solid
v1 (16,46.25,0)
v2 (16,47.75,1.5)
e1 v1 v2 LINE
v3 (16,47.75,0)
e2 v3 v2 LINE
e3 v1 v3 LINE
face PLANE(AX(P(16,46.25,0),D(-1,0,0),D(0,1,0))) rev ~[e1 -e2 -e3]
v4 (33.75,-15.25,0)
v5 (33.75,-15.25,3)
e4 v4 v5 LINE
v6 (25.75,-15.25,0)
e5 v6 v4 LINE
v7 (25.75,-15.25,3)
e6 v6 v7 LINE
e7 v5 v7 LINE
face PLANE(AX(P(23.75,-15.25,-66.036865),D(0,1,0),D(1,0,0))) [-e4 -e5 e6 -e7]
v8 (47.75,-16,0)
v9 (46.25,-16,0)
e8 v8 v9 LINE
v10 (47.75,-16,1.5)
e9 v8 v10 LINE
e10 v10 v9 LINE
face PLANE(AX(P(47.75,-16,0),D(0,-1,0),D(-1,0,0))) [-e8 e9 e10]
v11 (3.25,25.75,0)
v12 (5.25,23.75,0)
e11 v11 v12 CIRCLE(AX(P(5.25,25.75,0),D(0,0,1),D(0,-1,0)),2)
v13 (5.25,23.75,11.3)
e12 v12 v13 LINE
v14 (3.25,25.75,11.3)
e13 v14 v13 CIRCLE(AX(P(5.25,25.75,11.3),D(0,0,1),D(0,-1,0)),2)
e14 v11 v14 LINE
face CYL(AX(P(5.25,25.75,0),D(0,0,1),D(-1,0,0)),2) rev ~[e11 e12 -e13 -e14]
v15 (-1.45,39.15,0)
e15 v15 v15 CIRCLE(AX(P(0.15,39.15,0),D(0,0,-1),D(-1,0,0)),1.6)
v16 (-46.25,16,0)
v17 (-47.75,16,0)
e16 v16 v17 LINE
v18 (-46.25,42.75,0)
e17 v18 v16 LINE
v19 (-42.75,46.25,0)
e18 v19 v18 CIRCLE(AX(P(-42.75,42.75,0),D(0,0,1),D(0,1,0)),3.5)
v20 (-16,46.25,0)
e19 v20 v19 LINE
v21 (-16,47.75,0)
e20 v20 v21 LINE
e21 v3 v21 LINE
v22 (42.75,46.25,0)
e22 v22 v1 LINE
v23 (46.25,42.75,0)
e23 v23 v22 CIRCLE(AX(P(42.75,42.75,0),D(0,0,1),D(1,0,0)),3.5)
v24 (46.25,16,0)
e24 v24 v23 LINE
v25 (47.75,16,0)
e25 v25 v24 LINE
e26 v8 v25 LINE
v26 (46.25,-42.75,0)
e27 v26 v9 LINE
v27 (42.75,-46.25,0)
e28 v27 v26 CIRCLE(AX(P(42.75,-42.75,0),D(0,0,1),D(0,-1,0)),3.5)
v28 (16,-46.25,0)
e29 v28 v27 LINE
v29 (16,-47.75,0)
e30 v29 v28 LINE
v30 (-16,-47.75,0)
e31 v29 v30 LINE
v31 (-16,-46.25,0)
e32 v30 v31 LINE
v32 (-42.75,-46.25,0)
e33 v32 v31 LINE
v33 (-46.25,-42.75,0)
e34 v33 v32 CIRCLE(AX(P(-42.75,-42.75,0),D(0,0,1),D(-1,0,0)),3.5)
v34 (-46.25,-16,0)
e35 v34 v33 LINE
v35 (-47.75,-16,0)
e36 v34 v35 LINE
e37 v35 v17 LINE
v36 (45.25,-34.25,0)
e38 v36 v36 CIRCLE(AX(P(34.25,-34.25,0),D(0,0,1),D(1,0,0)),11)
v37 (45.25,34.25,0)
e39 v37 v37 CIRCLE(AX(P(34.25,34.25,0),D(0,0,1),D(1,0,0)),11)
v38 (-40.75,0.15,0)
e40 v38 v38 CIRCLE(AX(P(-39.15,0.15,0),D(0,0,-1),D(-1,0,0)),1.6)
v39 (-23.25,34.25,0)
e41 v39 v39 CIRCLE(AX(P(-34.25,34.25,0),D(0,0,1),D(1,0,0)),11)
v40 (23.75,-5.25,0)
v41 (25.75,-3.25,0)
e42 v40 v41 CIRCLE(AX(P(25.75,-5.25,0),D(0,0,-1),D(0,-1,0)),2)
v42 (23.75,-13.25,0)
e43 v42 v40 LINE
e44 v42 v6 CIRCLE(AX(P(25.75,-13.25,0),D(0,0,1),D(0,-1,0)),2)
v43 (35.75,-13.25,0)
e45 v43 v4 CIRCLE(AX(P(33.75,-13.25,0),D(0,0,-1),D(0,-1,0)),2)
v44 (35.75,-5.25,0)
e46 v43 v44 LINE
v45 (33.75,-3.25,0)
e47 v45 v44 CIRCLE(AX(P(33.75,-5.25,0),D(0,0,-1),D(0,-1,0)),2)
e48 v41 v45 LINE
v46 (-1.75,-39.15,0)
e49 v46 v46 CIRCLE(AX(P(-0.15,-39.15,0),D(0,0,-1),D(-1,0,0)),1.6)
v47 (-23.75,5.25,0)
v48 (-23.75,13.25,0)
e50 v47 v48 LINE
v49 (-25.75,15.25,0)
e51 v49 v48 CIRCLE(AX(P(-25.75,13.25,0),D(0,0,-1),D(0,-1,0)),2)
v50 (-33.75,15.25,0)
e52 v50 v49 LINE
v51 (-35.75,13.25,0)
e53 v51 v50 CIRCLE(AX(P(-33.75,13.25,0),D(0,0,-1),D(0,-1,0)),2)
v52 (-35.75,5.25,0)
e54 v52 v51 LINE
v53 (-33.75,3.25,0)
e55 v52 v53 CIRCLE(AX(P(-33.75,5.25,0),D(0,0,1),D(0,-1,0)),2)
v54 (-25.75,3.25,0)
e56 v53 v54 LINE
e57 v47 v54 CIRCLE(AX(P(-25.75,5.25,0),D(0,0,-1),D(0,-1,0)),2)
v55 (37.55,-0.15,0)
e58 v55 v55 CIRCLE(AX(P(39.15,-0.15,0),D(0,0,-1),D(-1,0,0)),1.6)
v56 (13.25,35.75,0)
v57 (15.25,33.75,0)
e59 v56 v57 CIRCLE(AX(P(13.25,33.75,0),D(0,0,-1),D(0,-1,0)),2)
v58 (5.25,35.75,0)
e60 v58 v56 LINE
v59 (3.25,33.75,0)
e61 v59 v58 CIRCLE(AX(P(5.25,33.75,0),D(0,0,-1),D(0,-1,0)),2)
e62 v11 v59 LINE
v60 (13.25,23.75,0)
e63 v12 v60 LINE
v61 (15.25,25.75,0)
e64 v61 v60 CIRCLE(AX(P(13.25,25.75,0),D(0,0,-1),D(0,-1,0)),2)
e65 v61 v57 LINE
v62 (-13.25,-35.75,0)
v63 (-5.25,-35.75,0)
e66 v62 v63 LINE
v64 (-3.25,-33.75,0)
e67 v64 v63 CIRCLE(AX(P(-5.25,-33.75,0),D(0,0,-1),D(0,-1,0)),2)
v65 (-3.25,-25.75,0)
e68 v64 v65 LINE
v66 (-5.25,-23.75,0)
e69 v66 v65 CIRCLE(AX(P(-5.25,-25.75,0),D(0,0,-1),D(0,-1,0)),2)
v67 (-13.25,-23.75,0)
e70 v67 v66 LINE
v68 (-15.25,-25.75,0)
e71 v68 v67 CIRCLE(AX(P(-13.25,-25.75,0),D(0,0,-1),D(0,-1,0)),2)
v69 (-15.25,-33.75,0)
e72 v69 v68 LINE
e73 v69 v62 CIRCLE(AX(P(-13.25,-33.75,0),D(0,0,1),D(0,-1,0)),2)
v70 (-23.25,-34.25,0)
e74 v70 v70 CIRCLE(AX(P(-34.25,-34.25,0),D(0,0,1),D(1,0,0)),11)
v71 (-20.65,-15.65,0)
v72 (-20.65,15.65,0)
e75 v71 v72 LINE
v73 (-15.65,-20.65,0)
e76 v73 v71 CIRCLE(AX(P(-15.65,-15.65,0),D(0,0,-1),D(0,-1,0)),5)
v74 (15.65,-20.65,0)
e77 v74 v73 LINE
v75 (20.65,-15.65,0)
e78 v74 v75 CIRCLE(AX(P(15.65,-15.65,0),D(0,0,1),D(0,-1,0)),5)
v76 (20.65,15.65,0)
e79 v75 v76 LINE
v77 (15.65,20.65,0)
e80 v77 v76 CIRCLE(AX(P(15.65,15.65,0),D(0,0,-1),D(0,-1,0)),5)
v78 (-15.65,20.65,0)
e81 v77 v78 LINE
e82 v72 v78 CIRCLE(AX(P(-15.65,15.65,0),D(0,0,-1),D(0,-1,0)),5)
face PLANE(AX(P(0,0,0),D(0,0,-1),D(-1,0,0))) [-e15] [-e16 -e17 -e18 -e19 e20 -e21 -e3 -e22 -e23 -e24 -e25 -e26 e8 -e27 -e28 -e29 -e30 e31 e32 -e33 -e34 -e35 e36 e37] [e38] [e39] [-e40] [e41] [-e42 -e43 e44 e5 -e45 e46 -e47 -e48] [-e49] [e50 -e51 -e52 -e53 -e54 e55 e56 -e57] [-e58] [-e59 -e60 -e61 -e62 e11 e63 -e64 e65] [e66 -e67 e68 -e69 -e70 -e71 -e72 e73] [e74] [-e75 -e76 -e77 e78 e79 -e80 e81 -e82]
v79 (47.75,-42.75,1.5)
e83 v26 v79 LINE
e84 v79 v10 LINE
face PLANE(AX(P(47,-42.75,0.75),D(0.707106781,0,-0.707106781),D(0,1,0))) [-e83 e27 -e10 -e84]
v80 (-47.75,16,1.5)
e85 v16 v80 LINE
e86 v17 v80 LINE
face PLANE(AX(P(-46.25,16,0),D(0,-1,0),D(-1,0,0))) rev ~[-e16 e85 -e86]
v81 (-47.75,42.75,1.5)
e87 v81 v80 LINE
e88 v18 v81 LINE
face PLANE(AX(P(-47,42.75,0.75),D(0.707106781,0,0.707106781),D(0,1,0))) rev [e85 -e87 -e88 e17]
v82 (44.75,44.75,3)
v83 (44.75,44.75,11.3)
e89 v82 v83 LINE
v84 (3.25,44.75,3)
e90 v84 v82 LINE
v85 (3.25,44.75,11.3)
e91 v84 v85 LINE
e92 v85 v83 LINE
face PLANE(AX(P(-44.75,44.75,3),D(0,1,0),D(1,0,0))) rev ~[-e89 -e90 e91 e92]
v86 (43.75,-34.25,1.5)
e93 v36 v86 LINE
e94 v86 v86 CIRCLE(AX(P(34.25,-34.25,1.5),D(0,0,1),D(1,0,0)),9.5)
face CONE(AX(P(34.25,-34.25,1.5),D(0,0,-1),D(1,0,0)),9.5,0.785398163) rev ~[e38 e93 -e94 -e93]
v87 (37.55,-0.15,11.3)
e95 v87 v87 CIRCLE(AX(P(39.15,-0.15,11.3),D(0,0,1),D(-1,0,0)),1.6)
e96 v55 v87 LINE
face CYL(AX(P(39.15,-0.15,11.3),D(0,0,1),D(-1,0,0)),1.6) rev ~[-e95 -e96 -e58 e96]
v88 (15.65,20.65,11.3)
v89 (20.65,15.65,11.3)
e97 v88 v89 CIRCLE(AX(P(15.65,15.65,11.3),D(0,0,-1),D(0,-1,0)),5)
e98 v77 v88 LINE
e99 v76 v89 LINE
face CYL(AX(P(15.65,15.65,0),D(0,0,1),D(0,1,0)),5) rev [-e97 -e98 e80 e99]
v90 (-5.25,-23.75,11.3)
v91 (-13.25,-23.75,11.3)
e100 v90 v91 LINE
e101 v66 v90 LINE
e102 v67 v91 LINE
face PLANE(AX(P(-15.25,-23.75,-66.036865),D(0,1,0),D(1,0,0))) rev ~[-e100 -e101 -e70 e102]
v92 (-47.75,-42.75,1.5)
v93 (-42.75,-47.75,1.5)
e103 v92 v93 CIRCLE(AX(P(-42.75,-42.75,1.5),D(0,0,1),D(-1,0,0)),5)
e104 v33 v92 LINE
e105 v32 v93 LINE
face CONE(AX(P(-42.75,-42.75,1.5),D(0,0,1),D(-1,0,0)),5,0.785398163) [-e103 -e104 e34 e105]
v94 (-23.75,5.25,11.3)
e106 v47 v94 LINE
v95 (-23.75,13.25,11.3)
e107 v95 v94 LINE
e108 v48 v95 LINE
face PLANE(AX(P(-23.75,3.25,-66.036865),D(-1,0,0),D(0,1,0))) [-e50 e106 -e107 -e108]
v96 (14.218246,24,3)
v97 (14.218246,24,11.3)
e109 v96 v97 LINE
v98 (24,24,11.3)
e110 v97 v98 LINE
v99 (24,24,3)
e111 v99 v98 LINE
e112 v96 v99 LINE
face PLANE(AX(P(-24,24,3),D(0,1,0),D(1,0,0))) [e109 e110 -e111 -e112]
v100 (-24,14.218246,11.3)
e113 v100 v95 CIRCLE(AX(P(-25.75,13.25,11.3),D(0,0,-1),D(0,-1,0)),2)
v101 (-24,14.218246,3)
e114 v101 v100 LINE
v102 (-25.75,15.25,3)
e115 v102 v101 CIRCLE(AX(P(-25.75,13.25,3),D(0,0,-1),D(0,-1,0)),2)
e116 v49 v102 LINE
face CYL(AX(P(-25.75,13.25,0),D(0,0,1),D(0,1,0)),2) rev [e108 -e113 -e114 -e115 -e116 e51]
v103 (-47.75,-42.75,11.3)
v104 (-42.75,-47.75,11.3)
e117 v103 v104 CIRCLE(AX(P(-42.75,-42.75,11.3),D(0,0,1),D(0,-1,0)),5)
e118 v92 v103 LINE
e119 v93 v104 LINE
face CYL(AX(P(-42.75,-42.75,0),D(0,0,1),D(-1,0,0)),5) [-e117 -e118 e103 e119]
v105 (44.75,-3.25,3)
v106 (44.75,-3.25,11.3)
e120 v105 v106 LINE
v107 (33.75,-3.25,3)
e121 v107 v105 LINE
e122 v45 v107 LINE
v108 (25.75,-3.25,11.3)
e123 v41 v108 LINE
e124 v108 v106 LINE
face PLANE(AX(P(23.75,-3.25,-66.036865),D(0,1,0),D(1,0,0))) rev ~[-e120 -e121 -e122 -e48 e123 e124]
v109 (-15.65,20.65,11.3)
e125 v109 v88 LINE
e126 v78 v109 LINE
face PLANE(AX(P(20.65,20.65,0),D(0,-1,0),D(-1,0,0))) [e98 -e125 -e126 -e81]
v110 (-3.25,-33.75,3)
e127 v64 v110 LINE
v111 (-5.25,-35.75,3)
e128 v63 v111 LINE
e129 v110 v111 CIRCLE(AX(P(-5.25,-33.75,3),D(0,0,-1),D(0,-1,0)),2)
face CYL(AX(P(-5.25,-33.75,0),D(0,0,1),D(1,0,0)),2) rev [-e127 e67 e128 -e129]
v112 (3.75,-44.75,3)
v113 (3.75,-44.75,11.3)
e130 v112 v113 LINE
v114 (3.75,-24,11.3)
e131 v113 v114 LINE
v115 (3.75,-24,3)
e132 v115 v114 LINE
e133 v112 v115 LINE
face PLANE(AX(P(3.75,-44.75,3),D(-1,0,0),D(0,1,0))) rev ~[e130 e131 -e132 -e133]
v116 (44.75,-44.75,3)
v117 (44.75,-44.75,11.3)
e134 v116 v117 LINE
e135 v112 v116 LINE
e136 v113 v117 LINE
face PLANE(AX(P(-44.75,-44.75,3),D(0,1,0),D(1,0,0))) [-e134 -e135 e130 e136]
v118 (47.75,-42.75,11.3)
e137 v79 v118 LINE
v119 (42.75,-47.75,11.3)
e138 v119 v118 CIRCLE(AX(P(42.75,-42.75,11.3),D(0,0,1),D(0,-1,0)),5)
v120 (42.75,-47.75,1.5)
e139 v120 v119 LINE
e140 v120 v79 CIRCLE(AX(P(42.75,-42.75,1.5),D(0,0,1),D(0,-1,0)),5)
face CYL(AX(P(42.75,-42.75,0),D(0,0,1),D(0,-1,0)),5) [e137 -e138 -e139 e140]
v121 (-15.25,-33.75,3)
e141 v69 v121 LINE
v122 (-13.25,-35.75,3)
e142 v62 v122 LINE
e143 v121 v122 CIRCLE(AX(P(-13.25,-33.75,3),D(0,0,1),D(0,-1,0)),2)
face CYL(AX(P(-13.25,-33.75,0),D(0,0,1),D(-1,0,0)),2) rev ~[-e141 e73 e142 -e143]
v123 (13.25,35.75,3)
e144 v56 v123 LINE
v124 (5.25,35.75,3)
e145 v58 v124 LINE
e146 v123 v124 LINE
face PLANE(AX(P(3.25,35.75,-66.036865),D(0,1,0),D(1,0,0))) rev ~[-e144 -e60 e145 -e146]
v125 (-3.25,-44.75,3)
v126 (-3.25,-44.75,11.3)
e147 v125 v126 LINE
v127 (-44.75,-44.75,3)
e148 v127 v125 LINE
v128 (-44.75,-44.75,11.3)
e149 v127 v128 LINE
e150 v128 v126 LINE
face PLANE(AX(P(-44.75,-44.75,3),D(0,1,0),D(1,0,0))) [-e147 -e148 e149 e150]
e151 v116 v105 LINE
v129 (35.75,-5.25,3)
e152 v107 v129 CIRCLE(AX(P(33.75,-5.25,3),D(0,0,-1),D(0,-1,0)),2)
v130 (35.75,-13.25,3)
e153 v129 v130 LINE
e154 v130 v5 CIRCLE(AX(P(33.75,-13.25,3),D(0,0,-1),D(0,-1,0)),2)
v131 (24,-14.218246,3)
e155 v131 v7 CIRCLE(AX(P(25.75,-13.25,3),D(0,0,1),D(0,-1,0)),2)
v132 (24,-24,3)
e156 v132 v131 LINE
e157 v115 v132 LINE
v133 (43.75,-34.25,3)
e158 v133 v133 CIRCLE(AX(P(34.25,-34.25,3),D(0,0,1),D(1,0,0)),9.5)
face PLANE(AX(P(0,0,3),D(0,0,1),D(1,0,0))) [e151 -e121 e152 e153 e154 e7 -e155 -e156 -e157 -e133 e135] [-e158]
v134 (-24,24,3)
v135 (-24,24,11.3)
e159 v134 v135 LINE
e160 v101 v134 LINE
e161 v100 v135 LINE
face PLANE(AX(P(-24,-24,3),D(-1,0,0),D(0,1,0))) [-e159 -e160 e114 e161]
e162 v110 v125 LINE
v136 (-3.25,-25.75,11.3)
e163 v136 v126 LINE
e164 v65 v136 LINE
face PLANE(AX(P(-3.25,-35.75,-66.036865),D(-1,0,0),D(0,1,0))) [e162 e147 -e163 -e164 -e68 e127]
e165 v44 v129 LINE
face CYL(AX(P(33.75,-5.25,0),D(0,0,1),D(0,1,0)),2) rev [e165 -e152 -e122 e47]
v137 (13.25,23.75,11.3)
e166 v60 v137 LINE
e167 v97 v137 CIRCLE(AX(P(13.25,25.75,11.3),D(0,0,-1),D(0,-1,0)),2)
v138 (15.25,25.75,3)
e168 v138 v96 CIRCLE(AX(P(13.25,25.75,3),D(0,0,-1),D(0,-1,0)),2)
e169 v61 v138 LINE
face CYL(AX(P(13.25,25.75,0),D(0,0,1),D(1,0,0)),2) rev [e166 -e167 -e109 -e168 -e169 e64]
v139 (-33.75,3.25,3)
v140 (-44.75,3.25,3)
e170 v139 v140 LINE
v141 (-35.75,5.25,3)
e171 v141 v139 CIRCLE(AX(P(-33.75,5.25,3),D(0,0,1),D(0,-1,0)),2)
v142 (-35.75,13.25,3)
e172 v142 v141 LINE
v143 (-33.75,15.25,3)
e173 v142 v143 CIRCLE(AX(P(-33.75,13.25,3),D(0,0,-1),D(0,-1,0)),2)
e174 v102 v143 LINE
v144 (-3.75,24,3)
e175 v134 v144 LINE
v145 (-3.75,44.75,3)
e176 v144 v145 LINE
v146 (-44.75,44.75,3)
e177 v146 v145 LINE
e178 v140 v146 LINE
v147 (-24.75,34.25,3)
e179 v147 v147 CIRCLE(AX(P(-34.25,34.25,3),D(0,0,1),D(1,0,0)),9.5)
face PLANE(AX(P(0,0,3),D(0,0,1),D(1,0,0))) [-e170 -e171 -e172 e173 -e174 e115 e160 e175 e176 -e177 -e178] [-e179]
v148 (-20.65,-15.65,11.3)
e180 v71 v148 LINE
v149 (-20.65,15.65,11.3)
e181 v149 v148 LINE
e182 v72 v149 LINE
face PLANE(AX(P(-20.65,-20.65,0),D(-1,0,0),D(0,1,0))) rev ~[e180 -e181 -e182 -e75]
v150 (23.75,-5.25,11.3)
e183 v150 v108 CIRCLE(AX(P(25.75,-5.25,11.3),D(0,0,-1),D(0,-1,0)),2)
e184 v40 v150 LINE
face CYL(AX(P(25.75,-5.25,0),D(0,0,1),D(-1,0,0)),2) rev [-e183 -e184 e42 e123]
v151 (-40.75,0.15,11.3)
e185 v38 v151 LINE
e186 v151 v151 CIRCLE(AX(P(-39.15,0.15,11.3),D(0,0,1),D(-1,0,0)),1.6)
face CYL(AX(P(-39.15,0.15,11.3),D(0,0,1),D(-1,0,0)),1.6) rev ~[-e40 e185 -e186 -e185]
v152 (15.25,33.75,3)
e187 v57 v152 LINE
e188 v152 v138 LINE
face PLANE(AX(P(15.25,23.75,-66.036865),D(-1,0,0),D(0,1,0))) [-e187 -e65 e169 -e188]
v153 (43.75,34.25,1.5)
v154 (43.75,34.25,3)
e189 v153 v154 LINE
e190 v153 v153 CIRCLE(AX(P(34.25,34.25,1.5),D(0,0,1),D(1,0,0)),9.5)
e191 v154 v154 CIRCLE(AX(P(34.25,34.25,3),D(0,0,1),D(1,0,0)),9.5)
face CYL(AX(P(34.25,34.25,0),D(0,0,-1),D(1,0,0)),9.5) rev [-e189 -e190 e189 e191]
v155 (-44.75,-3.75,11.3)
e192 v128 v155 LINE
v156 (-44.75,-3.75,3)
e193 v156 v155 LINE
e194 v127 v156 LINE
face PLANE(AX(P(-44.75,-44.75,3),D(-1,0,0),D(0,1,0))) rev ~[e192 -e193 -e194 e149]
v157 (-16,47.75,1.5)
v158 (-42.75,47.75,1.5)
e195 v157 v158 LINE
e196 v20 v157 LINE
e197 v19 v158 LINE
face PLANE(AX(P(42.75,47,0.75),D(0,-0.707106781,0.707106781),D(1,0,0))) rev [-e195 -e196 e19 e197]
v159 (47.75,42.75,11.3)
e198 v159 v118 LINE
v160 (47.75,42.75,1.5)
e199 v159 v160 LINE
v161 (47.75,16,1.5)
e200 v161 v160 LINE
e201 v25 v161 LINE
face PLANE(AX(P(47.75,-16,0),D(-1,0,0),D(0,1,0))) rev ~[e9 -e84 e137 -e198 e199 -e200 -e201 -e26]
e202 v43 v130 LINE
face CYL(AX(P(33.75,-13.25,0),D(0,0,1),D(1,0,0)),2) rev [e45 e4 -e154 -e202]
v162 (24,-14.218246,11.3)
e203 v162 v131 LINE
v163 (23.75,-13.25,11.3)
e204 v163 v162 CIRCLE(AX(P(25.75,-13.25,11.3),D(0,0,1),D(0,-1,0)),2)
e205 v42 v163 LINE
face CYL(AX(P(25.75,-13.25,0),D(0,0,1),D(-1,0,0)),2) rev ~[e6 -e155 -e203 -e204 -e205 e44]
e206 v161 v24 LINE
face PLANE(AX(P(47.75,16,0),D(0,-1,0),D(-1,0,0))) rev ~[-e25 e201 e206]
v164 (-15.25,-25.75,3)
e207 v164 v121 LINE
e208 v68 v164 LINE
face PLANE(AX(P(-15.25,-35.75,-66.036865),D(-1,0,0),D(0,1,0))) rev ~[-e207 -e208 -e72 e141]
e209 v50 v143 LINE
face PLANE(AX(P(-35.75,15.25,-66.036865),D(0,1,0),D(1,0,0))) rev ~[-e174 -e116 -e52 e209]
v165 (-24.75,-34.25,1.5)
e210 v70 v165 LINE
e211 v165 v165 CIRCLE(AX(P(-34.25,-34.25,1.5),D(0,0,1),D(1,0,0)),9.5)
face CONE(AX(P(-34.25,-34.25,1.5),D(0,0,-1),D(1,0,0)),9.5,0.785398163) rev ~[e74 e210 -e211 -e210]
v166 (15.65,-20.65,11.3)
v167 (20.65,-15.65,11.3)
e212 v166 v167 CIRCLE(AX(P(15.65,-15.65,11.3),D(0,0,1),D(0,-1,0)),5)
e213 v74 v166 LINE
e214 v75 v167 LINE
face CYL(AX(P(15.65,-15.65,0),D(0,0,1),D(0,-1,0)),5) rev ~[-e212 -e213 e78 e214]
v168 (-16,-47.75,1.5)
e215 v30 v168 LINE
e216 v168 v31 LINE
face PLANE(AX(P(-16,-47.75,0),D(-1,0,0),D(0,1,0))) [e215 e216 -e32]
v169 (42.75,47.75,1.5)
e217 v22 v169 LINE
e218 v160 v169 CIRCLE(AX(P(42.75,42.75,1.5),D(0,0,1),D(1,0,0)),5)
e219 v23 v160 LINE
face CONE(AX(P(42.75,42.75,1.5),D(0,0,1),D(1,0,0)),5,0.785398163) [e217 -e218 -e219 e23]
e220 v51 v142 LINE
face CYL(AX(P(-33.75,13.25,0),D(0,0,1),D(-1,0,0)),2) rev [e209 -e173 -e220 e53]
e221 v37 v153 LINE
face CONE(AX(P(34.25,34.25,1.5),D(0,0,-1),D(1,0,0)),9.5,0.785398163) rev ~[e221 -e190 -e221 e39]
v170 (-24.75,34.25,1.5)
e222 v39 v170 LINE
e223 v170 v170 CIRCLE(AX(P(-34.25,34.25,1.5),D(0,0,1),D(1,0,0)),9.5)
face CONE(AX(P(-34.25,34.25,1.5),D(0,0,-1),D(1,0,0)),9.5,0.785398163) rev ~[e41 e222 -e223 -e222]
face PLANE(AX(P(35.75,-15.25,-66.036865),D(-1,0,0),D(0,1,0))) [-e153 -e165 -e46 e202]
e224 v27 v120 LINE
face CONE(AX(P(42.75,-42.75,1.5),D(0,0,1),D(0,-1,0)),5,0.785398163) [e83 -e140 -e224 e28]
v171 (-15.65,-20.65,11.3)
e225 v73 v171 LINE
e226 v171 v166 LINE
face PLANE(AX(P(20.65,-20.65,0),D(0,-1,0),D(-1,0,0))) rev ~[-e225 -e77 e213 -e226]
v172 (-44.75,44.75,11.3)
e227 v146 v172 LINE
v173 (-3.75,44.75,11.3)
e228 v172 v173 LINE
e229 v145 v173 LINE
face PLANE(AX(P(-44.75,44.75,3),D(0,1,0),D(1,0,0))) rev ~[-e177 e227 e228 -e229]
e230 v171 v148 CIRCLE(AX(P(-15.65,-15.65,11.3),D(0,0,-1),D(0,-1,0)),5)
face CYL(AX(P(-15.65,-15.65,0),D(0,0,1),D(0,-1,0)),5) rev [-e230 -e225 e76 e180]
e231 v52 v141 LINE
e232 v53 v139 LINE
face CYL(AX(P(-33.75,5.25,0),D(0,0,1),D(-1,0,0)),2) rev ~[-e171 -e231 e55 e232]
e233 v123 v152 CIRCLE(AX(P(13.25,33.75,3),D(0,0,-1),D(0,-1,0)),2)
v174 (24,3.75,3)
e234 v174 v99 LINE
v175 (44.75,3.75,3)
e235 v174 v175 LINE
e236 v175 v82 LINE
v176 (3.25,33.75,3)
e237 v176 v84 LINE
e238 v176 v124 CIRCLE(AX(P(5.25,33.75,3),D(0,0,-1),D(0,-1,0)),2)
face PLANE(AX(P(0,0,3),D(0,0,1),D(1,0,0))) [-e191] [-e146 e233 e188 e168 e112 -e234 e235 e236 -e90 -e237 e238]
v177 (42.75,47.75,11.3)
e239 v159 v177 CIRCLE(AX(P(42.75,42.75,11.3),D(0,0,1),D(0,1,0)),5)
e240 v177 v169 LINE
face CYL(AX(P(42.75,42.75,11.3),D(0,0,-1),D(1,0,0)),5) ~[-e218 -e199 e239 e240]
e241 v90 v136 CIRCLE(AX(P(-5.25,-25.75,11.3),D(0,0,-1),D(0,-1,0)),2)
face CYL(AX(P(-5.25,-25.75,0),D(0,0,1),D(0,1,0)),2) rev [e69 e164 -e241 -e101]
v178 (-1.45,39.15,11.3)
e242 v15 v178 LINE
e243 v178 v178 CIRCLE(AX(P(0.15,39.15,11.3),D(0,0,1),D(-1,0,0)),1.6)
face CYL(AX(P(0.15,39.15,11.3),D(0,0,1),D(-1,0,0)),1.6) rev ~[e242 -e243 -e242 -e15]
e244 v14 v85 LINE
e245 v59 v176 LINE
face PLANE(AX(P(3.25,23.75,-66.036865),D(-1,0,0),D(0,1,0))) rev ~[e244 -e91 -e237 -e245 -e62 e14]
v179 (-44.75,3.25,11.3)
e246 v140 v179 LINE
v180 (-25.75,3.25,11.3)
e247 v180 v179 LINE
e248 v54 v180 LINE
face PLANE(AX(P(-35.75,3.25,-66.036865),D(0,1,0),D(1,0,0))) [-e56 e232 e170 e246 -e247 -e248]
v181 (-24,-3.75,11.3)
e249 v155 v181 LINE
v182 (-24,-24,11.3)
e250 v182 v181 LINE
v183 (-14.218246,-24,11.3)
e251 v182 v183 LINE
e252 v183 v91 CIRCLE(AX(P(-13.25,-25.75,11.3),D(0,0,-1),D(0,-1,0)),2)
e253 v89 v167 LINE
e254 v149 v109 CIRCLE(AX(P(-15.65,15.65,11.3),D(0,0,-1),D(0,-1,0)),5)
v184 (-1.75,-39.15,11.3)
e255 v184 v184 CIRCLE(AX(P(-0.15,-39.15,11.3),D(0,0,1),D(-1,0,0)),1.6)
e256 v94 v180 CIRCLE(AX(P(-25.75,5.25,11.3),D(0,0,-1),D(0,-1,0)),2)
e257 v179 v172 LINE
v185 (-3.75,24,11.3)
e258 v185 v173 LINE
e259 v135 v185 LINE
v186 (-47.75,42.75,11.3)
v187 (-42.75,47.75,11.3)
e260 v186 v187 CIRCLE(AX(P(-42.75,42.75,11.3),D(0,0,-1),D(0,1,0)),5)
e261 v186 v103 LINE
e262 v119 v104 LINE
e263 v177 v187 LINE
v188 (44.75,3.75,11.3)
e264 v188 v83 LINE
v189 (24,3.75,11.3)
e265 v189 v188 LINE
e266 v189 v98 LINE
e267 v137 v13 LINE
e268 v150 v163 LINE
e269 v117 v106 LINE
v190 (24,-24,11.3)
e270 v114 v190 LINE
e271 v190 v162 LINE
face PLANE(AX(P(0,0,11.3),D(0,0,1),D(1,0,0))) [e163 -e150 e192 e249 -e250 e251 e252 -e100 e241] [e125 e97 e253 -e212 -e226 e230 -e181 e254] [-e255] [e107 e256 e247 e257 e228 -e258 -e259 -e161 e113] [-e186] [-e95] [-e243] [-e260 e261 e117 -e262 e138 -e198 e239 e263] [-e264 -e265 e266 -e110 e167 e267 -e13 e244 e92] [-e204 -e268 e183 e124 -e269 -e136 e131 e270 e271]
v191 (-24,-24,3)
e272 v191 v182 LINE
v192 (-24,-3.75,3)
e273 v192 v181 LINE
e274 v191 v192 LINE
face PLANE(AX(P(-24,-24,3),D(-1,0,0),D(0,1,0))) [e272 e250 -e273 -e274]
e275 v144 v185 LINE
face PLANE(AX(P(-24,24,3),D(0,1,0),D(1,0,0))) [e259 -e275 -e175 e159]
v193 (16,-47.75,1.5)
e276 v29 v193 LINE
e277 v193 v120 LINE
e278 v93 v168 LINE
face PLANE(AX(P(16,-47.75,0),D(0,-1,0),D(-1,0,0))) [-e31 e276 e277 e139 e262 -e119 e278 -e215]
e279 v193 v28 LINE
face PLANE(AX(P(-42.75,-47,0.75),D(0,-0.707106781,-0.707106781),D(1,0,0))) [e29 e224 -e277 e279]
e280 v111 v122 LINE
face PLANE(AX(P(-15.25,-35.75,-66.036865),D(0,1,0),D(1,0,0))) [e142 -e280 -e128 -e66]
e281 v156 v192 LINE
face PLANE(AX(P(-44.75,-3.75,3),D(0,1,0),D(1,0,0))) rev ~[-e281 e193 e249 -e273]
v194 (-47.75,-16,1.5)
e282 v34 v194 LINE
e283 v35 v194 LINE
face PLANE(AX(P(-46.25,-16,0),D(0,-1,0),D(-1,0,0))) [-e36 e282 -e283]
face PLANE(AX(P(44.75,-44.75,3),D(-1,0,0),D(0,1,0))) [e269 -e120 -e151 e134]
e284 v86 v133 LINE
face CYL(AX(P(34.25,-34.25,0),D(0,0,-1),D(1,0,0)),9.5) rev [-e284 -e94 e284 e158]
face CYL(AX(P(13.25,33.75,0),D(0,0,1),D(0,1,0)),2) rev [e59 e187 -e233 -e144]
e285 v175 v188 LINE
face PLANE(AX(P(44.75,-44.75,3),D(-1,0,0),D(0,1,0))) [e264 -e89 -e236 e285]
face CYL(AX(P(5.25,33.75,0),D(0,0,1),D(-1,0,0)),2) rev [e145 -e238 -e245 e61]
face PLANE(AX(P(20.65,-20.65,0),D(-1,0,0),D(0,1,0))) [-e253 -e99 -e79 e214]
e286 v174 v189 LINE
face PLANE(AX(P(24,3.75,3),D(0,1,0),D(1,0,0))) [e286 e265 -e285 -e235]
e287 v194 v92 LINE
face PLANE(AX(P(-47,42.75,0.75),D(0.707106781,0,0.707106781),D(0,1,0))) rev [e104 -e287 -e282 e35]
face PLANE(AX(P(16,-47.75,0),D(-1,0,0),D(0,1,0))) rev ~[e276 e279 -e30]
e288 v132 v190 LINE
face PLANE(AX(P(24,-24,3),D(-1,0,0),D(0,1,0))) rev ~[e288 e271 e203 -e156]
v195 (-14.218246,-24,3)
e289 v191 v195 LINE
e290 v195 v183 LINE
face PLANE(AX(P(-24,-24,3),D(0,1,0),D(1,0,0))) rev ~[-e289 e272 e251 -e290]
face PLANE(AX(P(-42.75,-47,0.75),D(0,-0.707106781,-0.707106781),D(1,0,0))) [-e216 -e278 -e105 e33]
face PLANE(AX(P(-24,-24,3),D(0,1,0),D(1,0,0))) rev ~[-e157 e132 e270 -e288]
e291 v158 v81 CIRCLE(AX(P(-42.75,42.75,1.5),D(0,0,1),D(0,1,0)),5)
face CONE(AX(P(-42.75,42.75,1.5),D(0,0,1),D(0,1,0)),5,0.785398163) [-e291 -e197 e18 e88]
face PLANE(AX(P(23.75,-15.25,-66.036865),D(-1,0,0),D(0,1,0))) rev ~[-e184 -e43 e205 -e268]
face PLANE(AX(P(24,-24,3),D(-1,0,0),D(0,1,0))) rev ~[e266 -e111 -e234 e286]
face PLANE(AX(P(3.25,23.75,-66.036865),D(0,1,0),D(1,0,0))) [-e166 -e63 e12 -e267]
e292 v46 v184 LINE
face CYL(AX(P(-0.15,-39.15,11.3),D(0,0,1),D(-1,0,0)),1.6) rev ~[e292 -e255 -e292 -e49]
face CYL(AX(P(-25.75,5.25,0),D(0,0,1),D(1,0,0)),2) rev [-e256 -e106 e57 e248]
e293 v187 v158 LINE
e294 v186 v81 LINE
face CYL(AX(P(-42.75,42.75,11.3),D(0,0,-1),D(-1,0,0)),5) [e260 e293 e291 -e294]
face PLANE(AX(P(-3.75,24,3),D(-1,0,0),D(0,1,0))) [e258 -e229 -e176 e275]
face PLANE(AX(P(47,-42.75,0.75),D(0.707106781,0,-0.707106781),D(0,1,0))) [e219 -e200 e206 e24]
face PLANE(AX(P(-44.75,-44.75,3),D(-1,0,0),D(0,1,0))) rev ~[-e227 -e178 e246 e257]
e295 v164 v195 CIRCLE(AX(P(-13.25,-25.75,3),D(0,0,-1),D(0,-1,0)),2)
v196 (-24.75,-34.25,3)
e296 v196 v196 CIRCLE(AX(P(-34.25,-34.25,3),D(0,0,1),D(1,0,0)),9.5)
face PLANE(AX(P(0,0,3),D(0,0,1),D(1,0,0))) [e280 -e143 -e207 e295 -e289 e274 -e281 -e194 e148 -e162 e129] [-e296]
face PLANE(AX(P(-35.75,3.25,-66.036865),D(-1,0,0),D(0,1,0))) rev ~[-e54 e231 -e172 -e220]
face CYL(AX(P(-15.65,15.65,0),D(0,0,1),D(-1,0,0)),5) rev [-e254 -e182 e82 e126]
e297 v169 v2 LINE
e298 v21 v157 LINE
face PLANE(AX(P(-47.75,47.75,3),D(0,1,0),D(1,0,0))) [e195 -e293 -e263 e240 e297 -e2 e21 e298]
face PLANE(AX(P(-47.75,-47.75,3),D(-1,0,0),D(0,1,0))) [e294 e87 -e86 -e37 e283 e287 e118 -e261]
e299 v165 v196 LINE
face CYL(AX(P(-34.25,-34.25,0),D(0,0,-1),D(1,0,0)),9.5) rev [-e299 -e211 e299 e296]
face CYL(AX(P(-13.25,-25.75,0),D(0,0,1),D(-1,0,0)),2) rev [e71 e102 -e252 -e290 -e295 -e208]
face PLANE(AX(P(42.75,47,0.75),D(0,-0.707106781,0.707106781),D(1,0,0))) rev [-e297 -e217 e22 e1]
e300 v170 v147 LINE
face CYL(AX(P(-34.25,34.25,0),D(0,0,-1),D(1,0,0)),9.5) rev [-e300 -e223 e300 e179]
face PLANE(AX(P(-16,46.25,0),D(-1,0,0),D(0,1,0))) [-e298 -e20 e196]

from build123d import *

# Parameters (mm, degrees)
SKETCH_1_W                = 95.5
SKETCH_1_H                = 95.5
SKETCH_1_R                = 9.5
EXTRUDE_1_DEPTH           = 3
SKETCH_3_W                = 42
SKETCH_3_H                = 42
CUT_EXTRUDE_2_DEPTH       = 68.595303091
SKETCH_5_W                = 95.5
SKETCH_5_H                = 95.5
SKETCH_5_W_2              = 89.5
SKETCH_5_H_2              = 89.5
EXTRUDE_2_DEPTH           = 8.3
FILLET_1_R                = 5
SKETCH_7_W                = 48
SKETCH_7_H                = 48
SKETCH_7_W_2              = 42
SKETCH_7_H_2              = 42
EXTRUDE_4_DEPTH           = 8.3
CHAMFER_3_SIZE            = 1.5
CHAMFER_5_SIZE            = 1.5
SKETCH_12_R               = 1.6
CUT_EXTRUDE_8_DEPTH       = 69.467620084
SKETCH_13_W               = 20.75
SKETCH_13_H               = 7
SKETCH_13_W_2             = 7
SKETCH_13_H_2             = 20.75
EXTRUDE_5_DEPTH           = 8.3
SKETCH_14_R               = 1.6
CUT_EXTRUDE_9_DEPTH       = 69.467620084
EXTRUDE_6_REACH           = 70.468
SKETCH_15_W               = 32
SKETCH_15_H               = 1.5
SKETCH_15_W_2             = 1.5
SKETCH_15_H_2             = 32
CUT_EXTRUDE_10_DEPTH      = 69.036865007
CUT_EXTRUDE_10_DEPTH_BACK = 69.036865007
SKETCH_16_W               = 12
SKETCH_16_H               = 12
SKETCH_17_W               = 42
SKETCH_17_H               = 42
EXTRUDE_7_DEPTH           = 11.3
FILLET_2_R                = 2
SKETCH_18_W               = 41.3
SKETCH_18_H               = 41.3
CUT_EXTRUDE_11_DEPTH      = 69.467620084
FILLET_3_R                = 5


with BuildPart() as part:
    # ｽｹｯﾁ1 → ﾎﾞｽ - 押し出し1 (new body)
    with BuildSketch(Plane.XY):
        Rectangle(SKETCH_1_W, SKETCH_1_H)
        with Locations((-34.25, 34.25)):
            Circle(SKETCH_1_R, mode=Mode.SUBTRACT)
        with Locations((34.25, 34.25)):
            Circle(SKETCH_1_R, mode=Mode.SUBTRACT)
        with Locations((34.25, -34.25)):
            Circle(SKETCH_1_R, mode=Mode.SUBTRACT)
        with Locations((-34.25, -34.25)):
            Circle(SKETCH_1_R, mode=Mode.SUBTRACT)
    extrude(amount=EXTRUDE_1_DEPTH)

    # ｽｹｯﾁ3 → ｶｯﾄ - 押し出し2 (cut, through all)
    with BuildSketch(Plane.XY.offset(3)):
        Rectangle(SKETCH_3_W, SKETCH_3_H)
    extrude(amount=-CUT_EXTRUDE_2_DEPTH, mode=Mode.SUBTRACT)

    # ｽｹｯﾁ5 → ﾎﾞｽ - 押し出し2 (add)
    with BuildSketch(Plane.XY.offset(3)):
        Rectangle(SKETCH_5_W, SKETCH_5_H)
        Rectangle(SKETCH_5_W_2, SKETCH_5_H_2, mode=Mode.SUBTRACT)
    extrude(amount=EXTRUDE_2_DEPTH)

    # ﾌｨﾚｯﾄ1
    fillet_1_edges = [part.edges().sort_by_distance(p)[0] for p in [
        (-47.75, 47.75, 5.65),
        (47.75, 47.75, 5.65),
        (47.75, -47.75, 5.65),
        (-47.75, -47.75, 5.65),
    ]]
    fillet(fillet_1_edges, radius=FILLET_1_R)

    # ｽｹｯﾁ7 → ﾎﾞｽ - 押し出し4 (add)
    with BuildSketch(Plane.XY.offset(3)):
        Rectangle(SKETCH_7_W, SKETCH_7_H)
        Rectangle(SKETCH_7_W_2, SKETCH_7_H_2, mode=Mode.SUBTRACT)
    extrude(amount=EXTRUDE_4_DEPTH)

    # 面取り3
    chamfer_3_edges = [part.edges().sort_by_distance(p)[0] for p in [
        (47.75, 0, 0),
        (-47.75, 0, 0),
        (0, 47.75, 0),
        (0, -47.75, 0),
        (-46.285533906, 46.285533906, 0),
        (46.285533906, 46.285533906, 0),
        (-46.285533906, -46.285533906, 0),
        (46.285533906, -46.285533906, 0),
    ]]
    chamfer(chamfer_3_edges, length=CHAMFER_3_SIZE)

    # 面取り5
    chamfer_5_edges = [part.edges().sort_by_distance(p)[0] for p in [
        (-43.75, 34.25, 0),
        (24.75, 34.25, 0),
        (24.75, -34.25, 0),
        (-43.75, -34.25, 0),
    ]]
    chamfer(chamfer_5_edges, length=CHAMFER_5_SIZE)

    # ｽｹｯﾁ12 → ｶｯﾄ - 押し出し8 (cut, through all)
    with BuildSketch(Plane(origin=(0, 0, 0), x_dir=(-1, 0, 0), z_dir=(0, 0, -1))):
        with Locations((-0.15, 39.15)):
            Circle(SKETCH_12_R)
        with Locations((-39.15, -0.15)):
            Circle(SKETCH_12_R)
        with Locations((39.15, 0.15)):
            Circle(SKETCH_12_R)
        with Locations((0.15, -39.15)):
            Circle(SKETCH_12_R)
    extrude(amount=-CUT_EXTRUDE_8_DEPTH, mode=Mode.SUBTRACT)

    # ｽｹｯﾁ13 → ﾎﾞｽ - 押し出し5 (add)
    with BuildSketch(Plane.XY.offset(3)):
        with Locations((-34.375, -0.25)):
            Rectangle(SKETCH_13_W, SKETCH_13_H)
        with Locations((0.25, -34.375)):
            Rectangle(SKETCH_13_W_2, SKETCH_13_H_2)
        with Locations((34.375, 0.25)):
            Rectangle(SKETCH_13_W, SKETCH_13_H)
        with Locations((-0.25, 34.375)):
            Rectangle(SKETCH_13_W_2, SKETCH_13_H_2)
    extrude(amount=EXTRUDE_5_DEPTH)

    # ｽｹｯﾁ14 → ｶｯﾄ - 押し出し9 (cut, through all)
    with BuildSketch(Plane.XY.offset(11.3)):
        with Locations(Location((-39.15, 0.15, 0), (0, 0, 180))):
            Circle(SKETCH_14_R)
        with Locations(Location((-0.15, -39.15, 0), (0, 0, 180))):
            Circle(SKETCH_14_R)
        with Locations(Location((39.15, -0.15, 0), (0, 0, 180))):
            Circle(SKETCH_14_R)
        with Locations(Location((0.15, 39.15, 0), (0, 0, 180))):
            Circle(SKETCH_14_R)
    extrude(amount=-CUT_EXTRUDE_9_DEPTH, mode=Mode.SUBTRACT)

    # ﾎﾞｽ - 押し出し6: up to this face of the body (flat: up to its plane)
    extrude_6_end = Plane(part.part.faces().sort_by_distance((0, -46.399426048, 11.3))[0])
    # ｽｹｯﾁ15 → ﾎﾞｽ - 押し出し6 (add, up to the picked face)
    with BuildSketch(Plane(origin=(0, 0, 0), x_dir=(-1, 0, 0), z_dir=(0, 0, -1)), mode=Mode.PRIVATE) as extrude_6_sk1:
        with Locations((0, 47)):
            Rectangle(SKETCH_15_W, SKETCH_15_H)
    extrude_6_tool1 = split(extrude(extrude_6_sk1.sketch, amount=-EXTRUDE_6_REACH, mode=Mode.PRIVATE), bisect_by=extrude_6_end, keep=Keep.BOTH, mode=Mode.PRIVATE)
    # ｽｹｯﾁ15 → ﾎﾞｽ - 押し出し6 (add, up to the picked face)
    with BuildSketch(Plane(origin=(0, 0, 0), x_dir=(-1, 0, 0), z_dir=(0, 0, -1)), mode=Mode.PRIVATE) as extrude_6_sk2:
        with Locations((47, 0)):
            Rectangle(SKETCH_15_W_2, SKETCH_15_H_2)
    extrude_6_tool2 = split(extrude(extrude_6_sk2.sketch, amount=-EXTRUDE_6_REACH, mode=Mode.PRIVATE), bisect_by=extrude_6_end, keep=Keep.BOTH, mode=Mode.PRIVATE)
    # ｽｹｯﾁ15 → ﾎﾞｽ - 押し出し6 (add, up to the picked face)
    with BuildSketch(Plane(origin=(0, 0, 0), x_dir=(-1, 0, 0), z_dir=(0, 0, -1)), mode=Mode.PRIVATE) as extrude_6_sk3:
        with Locations((0, -47)):
            Rectangle(SKETCH_15_W, SKETCH_15_H)
    extrude_6_tool3 = split(extrude(extrude_6_sk3.sketch, amount=-EXTRUDE_6_REACH, mode=Mode.PRIVATE), bisect_by=extrude_6_end, keep=Keep.BOTH, mode=Mode.PRIVATE)
    # ｽｹｯﾁ15 → ﾎﾞｽ - 押し出し6 (add, up to the picked face)
    with BuildSketch(Plane(origin=(0, 0, 0), x_dir=(-1, 0, 0), z_dir=(0, 0, -1)), mode=Mode.PRIVATE) as extrude_6_sk4:
        with Locations((-47, 0)):
            Rectangle(SKETCH_15_W_2, SKETCH_15_H_2)
    extrude_6_tool4 = split(extrude(extrude_6_sk4.sketch, amount=-EXTRUDE_6_REACH, mode=Mode.PRIVATE), bisect_by=extrude_6_end, keep=Keep.BOTH, mode=Mode.PRIVATE)
    add(extrude_6_tool1.solids().sort_by(Axis((0, 47, 0), (0, 0, 1)))[0])
    add(extrude_6_tool2.solids().sort_by(Axis((-47, 0, 0), (0, 0, 1)))[0])
    add(extrude_6_tool3.solids().sort_by(Axis((0, -47, 0), (0, 0, 1)))[0])
    add(extrude_6_tool4.solids().sort_by(Axis((47, 0, 0), (0, 0, 1)))[0])

    # ｽｹｯﾁ16 → ｶｯﾄ - 押し出し10 (cut, two sides: drawn at the far end of the back side and taken through both)
    with BuildSketch(Plane.XY.offset(3).offset(-CUT_EXTRUDE_10_DEPTH_BACK)):
        with Locations((9.25, 29.75)):
            Rectangle(SKETCH_16_W, SKETCH_16_H)
        with Locations((29.75, -9.25)):
            Rectangle(SKETCH_16_W, SKETCH_16_H)
        with Locations((-9.25, -29.75)):
            Rectangle(SKETCH_16_W, SKETCH_16_H)
        with Locations((-29.75, 9.25)):
            Rectangle(SKETCH_16_W, SKETCH_16_H)
    extrude(amount=CUT_EXTRUDE_10_DEPTH + CUT_EXTRUDE_10_DEPTH_BACK, mode=Mode.SUBTRACT)

    # ｽｹｯﾁ17 → ﾎﾞｽ - 押し出し7 (add, through all)
    with BuildSketch(Plane(origin=(0, 0, 0), x_dir=(-1, 0, 0), z_dir=(0, 0, -1))):
        Rectangle(SKETCH_17_W, SKETCH_17_H)
    extrude(amount=-EXTRUDE_7_DEPTH)

    # ﾌｨﾚｯﾄ2
    fillet_2_edges = [part.edges().sort_by_distance(p)[0] for p in [
        (3.25, 35.75, 1.5),
        (15.25, 35.75, 1.5),
        (15.25, 23.75, 5.65),
        (3.25, 23.75, 5.65),
        (-35.75, 15.25, 1.5),
        (-35.75, 3.25, 1.5),
        (-23.75, 3.25, 5.65),
        (-23.75, 15.25, 5.65),
        (-15.25, -23.75, 5.65),
        (-3.25, -23.75, 5.65),
        (-3.25, -35.75, 1.5),
        (-15.25, -35.75, 1.5),
        (23.75, -15.25, 5.65),
        (35.75, -15.25, 1.5),
        (35.75, -3.25, 1.5),
        (23.75, -3.25, 5.65),
    ]]
    fillet(fillet_2_edges, radius=FILLET_2_R)

    # ｽｹｯﾁ18 → ｶｯﾄ - 押し出し11 (cut, through all)
    with BuildSketch(Plane(origin=(0, 0, 0), x_dir=(-1, 0, 0), z_dir=(0, 0, -1))):
        Rectangle(SKETCH_18_W, SKETCH_18_H)
    extrude(amount=-CUT_EXTRUDE_11_DEPTH, mode=Mode.SUBTRACT)

    # ﾌｨﾚｯﾄ3
    fillet_3_edges = [part.edges().sort_by_distance(p)[0] for p in [
        (-20.65, 20.65, 5.65),
        (-20.65, -20.65, 5.65),
        (20.65, -20.65, 5.65),
        (20.65, 20.65, 5.65),
    ]]
    fillet(fillet_3_edges, radius=FILLET_3_R)


solid = part.part
